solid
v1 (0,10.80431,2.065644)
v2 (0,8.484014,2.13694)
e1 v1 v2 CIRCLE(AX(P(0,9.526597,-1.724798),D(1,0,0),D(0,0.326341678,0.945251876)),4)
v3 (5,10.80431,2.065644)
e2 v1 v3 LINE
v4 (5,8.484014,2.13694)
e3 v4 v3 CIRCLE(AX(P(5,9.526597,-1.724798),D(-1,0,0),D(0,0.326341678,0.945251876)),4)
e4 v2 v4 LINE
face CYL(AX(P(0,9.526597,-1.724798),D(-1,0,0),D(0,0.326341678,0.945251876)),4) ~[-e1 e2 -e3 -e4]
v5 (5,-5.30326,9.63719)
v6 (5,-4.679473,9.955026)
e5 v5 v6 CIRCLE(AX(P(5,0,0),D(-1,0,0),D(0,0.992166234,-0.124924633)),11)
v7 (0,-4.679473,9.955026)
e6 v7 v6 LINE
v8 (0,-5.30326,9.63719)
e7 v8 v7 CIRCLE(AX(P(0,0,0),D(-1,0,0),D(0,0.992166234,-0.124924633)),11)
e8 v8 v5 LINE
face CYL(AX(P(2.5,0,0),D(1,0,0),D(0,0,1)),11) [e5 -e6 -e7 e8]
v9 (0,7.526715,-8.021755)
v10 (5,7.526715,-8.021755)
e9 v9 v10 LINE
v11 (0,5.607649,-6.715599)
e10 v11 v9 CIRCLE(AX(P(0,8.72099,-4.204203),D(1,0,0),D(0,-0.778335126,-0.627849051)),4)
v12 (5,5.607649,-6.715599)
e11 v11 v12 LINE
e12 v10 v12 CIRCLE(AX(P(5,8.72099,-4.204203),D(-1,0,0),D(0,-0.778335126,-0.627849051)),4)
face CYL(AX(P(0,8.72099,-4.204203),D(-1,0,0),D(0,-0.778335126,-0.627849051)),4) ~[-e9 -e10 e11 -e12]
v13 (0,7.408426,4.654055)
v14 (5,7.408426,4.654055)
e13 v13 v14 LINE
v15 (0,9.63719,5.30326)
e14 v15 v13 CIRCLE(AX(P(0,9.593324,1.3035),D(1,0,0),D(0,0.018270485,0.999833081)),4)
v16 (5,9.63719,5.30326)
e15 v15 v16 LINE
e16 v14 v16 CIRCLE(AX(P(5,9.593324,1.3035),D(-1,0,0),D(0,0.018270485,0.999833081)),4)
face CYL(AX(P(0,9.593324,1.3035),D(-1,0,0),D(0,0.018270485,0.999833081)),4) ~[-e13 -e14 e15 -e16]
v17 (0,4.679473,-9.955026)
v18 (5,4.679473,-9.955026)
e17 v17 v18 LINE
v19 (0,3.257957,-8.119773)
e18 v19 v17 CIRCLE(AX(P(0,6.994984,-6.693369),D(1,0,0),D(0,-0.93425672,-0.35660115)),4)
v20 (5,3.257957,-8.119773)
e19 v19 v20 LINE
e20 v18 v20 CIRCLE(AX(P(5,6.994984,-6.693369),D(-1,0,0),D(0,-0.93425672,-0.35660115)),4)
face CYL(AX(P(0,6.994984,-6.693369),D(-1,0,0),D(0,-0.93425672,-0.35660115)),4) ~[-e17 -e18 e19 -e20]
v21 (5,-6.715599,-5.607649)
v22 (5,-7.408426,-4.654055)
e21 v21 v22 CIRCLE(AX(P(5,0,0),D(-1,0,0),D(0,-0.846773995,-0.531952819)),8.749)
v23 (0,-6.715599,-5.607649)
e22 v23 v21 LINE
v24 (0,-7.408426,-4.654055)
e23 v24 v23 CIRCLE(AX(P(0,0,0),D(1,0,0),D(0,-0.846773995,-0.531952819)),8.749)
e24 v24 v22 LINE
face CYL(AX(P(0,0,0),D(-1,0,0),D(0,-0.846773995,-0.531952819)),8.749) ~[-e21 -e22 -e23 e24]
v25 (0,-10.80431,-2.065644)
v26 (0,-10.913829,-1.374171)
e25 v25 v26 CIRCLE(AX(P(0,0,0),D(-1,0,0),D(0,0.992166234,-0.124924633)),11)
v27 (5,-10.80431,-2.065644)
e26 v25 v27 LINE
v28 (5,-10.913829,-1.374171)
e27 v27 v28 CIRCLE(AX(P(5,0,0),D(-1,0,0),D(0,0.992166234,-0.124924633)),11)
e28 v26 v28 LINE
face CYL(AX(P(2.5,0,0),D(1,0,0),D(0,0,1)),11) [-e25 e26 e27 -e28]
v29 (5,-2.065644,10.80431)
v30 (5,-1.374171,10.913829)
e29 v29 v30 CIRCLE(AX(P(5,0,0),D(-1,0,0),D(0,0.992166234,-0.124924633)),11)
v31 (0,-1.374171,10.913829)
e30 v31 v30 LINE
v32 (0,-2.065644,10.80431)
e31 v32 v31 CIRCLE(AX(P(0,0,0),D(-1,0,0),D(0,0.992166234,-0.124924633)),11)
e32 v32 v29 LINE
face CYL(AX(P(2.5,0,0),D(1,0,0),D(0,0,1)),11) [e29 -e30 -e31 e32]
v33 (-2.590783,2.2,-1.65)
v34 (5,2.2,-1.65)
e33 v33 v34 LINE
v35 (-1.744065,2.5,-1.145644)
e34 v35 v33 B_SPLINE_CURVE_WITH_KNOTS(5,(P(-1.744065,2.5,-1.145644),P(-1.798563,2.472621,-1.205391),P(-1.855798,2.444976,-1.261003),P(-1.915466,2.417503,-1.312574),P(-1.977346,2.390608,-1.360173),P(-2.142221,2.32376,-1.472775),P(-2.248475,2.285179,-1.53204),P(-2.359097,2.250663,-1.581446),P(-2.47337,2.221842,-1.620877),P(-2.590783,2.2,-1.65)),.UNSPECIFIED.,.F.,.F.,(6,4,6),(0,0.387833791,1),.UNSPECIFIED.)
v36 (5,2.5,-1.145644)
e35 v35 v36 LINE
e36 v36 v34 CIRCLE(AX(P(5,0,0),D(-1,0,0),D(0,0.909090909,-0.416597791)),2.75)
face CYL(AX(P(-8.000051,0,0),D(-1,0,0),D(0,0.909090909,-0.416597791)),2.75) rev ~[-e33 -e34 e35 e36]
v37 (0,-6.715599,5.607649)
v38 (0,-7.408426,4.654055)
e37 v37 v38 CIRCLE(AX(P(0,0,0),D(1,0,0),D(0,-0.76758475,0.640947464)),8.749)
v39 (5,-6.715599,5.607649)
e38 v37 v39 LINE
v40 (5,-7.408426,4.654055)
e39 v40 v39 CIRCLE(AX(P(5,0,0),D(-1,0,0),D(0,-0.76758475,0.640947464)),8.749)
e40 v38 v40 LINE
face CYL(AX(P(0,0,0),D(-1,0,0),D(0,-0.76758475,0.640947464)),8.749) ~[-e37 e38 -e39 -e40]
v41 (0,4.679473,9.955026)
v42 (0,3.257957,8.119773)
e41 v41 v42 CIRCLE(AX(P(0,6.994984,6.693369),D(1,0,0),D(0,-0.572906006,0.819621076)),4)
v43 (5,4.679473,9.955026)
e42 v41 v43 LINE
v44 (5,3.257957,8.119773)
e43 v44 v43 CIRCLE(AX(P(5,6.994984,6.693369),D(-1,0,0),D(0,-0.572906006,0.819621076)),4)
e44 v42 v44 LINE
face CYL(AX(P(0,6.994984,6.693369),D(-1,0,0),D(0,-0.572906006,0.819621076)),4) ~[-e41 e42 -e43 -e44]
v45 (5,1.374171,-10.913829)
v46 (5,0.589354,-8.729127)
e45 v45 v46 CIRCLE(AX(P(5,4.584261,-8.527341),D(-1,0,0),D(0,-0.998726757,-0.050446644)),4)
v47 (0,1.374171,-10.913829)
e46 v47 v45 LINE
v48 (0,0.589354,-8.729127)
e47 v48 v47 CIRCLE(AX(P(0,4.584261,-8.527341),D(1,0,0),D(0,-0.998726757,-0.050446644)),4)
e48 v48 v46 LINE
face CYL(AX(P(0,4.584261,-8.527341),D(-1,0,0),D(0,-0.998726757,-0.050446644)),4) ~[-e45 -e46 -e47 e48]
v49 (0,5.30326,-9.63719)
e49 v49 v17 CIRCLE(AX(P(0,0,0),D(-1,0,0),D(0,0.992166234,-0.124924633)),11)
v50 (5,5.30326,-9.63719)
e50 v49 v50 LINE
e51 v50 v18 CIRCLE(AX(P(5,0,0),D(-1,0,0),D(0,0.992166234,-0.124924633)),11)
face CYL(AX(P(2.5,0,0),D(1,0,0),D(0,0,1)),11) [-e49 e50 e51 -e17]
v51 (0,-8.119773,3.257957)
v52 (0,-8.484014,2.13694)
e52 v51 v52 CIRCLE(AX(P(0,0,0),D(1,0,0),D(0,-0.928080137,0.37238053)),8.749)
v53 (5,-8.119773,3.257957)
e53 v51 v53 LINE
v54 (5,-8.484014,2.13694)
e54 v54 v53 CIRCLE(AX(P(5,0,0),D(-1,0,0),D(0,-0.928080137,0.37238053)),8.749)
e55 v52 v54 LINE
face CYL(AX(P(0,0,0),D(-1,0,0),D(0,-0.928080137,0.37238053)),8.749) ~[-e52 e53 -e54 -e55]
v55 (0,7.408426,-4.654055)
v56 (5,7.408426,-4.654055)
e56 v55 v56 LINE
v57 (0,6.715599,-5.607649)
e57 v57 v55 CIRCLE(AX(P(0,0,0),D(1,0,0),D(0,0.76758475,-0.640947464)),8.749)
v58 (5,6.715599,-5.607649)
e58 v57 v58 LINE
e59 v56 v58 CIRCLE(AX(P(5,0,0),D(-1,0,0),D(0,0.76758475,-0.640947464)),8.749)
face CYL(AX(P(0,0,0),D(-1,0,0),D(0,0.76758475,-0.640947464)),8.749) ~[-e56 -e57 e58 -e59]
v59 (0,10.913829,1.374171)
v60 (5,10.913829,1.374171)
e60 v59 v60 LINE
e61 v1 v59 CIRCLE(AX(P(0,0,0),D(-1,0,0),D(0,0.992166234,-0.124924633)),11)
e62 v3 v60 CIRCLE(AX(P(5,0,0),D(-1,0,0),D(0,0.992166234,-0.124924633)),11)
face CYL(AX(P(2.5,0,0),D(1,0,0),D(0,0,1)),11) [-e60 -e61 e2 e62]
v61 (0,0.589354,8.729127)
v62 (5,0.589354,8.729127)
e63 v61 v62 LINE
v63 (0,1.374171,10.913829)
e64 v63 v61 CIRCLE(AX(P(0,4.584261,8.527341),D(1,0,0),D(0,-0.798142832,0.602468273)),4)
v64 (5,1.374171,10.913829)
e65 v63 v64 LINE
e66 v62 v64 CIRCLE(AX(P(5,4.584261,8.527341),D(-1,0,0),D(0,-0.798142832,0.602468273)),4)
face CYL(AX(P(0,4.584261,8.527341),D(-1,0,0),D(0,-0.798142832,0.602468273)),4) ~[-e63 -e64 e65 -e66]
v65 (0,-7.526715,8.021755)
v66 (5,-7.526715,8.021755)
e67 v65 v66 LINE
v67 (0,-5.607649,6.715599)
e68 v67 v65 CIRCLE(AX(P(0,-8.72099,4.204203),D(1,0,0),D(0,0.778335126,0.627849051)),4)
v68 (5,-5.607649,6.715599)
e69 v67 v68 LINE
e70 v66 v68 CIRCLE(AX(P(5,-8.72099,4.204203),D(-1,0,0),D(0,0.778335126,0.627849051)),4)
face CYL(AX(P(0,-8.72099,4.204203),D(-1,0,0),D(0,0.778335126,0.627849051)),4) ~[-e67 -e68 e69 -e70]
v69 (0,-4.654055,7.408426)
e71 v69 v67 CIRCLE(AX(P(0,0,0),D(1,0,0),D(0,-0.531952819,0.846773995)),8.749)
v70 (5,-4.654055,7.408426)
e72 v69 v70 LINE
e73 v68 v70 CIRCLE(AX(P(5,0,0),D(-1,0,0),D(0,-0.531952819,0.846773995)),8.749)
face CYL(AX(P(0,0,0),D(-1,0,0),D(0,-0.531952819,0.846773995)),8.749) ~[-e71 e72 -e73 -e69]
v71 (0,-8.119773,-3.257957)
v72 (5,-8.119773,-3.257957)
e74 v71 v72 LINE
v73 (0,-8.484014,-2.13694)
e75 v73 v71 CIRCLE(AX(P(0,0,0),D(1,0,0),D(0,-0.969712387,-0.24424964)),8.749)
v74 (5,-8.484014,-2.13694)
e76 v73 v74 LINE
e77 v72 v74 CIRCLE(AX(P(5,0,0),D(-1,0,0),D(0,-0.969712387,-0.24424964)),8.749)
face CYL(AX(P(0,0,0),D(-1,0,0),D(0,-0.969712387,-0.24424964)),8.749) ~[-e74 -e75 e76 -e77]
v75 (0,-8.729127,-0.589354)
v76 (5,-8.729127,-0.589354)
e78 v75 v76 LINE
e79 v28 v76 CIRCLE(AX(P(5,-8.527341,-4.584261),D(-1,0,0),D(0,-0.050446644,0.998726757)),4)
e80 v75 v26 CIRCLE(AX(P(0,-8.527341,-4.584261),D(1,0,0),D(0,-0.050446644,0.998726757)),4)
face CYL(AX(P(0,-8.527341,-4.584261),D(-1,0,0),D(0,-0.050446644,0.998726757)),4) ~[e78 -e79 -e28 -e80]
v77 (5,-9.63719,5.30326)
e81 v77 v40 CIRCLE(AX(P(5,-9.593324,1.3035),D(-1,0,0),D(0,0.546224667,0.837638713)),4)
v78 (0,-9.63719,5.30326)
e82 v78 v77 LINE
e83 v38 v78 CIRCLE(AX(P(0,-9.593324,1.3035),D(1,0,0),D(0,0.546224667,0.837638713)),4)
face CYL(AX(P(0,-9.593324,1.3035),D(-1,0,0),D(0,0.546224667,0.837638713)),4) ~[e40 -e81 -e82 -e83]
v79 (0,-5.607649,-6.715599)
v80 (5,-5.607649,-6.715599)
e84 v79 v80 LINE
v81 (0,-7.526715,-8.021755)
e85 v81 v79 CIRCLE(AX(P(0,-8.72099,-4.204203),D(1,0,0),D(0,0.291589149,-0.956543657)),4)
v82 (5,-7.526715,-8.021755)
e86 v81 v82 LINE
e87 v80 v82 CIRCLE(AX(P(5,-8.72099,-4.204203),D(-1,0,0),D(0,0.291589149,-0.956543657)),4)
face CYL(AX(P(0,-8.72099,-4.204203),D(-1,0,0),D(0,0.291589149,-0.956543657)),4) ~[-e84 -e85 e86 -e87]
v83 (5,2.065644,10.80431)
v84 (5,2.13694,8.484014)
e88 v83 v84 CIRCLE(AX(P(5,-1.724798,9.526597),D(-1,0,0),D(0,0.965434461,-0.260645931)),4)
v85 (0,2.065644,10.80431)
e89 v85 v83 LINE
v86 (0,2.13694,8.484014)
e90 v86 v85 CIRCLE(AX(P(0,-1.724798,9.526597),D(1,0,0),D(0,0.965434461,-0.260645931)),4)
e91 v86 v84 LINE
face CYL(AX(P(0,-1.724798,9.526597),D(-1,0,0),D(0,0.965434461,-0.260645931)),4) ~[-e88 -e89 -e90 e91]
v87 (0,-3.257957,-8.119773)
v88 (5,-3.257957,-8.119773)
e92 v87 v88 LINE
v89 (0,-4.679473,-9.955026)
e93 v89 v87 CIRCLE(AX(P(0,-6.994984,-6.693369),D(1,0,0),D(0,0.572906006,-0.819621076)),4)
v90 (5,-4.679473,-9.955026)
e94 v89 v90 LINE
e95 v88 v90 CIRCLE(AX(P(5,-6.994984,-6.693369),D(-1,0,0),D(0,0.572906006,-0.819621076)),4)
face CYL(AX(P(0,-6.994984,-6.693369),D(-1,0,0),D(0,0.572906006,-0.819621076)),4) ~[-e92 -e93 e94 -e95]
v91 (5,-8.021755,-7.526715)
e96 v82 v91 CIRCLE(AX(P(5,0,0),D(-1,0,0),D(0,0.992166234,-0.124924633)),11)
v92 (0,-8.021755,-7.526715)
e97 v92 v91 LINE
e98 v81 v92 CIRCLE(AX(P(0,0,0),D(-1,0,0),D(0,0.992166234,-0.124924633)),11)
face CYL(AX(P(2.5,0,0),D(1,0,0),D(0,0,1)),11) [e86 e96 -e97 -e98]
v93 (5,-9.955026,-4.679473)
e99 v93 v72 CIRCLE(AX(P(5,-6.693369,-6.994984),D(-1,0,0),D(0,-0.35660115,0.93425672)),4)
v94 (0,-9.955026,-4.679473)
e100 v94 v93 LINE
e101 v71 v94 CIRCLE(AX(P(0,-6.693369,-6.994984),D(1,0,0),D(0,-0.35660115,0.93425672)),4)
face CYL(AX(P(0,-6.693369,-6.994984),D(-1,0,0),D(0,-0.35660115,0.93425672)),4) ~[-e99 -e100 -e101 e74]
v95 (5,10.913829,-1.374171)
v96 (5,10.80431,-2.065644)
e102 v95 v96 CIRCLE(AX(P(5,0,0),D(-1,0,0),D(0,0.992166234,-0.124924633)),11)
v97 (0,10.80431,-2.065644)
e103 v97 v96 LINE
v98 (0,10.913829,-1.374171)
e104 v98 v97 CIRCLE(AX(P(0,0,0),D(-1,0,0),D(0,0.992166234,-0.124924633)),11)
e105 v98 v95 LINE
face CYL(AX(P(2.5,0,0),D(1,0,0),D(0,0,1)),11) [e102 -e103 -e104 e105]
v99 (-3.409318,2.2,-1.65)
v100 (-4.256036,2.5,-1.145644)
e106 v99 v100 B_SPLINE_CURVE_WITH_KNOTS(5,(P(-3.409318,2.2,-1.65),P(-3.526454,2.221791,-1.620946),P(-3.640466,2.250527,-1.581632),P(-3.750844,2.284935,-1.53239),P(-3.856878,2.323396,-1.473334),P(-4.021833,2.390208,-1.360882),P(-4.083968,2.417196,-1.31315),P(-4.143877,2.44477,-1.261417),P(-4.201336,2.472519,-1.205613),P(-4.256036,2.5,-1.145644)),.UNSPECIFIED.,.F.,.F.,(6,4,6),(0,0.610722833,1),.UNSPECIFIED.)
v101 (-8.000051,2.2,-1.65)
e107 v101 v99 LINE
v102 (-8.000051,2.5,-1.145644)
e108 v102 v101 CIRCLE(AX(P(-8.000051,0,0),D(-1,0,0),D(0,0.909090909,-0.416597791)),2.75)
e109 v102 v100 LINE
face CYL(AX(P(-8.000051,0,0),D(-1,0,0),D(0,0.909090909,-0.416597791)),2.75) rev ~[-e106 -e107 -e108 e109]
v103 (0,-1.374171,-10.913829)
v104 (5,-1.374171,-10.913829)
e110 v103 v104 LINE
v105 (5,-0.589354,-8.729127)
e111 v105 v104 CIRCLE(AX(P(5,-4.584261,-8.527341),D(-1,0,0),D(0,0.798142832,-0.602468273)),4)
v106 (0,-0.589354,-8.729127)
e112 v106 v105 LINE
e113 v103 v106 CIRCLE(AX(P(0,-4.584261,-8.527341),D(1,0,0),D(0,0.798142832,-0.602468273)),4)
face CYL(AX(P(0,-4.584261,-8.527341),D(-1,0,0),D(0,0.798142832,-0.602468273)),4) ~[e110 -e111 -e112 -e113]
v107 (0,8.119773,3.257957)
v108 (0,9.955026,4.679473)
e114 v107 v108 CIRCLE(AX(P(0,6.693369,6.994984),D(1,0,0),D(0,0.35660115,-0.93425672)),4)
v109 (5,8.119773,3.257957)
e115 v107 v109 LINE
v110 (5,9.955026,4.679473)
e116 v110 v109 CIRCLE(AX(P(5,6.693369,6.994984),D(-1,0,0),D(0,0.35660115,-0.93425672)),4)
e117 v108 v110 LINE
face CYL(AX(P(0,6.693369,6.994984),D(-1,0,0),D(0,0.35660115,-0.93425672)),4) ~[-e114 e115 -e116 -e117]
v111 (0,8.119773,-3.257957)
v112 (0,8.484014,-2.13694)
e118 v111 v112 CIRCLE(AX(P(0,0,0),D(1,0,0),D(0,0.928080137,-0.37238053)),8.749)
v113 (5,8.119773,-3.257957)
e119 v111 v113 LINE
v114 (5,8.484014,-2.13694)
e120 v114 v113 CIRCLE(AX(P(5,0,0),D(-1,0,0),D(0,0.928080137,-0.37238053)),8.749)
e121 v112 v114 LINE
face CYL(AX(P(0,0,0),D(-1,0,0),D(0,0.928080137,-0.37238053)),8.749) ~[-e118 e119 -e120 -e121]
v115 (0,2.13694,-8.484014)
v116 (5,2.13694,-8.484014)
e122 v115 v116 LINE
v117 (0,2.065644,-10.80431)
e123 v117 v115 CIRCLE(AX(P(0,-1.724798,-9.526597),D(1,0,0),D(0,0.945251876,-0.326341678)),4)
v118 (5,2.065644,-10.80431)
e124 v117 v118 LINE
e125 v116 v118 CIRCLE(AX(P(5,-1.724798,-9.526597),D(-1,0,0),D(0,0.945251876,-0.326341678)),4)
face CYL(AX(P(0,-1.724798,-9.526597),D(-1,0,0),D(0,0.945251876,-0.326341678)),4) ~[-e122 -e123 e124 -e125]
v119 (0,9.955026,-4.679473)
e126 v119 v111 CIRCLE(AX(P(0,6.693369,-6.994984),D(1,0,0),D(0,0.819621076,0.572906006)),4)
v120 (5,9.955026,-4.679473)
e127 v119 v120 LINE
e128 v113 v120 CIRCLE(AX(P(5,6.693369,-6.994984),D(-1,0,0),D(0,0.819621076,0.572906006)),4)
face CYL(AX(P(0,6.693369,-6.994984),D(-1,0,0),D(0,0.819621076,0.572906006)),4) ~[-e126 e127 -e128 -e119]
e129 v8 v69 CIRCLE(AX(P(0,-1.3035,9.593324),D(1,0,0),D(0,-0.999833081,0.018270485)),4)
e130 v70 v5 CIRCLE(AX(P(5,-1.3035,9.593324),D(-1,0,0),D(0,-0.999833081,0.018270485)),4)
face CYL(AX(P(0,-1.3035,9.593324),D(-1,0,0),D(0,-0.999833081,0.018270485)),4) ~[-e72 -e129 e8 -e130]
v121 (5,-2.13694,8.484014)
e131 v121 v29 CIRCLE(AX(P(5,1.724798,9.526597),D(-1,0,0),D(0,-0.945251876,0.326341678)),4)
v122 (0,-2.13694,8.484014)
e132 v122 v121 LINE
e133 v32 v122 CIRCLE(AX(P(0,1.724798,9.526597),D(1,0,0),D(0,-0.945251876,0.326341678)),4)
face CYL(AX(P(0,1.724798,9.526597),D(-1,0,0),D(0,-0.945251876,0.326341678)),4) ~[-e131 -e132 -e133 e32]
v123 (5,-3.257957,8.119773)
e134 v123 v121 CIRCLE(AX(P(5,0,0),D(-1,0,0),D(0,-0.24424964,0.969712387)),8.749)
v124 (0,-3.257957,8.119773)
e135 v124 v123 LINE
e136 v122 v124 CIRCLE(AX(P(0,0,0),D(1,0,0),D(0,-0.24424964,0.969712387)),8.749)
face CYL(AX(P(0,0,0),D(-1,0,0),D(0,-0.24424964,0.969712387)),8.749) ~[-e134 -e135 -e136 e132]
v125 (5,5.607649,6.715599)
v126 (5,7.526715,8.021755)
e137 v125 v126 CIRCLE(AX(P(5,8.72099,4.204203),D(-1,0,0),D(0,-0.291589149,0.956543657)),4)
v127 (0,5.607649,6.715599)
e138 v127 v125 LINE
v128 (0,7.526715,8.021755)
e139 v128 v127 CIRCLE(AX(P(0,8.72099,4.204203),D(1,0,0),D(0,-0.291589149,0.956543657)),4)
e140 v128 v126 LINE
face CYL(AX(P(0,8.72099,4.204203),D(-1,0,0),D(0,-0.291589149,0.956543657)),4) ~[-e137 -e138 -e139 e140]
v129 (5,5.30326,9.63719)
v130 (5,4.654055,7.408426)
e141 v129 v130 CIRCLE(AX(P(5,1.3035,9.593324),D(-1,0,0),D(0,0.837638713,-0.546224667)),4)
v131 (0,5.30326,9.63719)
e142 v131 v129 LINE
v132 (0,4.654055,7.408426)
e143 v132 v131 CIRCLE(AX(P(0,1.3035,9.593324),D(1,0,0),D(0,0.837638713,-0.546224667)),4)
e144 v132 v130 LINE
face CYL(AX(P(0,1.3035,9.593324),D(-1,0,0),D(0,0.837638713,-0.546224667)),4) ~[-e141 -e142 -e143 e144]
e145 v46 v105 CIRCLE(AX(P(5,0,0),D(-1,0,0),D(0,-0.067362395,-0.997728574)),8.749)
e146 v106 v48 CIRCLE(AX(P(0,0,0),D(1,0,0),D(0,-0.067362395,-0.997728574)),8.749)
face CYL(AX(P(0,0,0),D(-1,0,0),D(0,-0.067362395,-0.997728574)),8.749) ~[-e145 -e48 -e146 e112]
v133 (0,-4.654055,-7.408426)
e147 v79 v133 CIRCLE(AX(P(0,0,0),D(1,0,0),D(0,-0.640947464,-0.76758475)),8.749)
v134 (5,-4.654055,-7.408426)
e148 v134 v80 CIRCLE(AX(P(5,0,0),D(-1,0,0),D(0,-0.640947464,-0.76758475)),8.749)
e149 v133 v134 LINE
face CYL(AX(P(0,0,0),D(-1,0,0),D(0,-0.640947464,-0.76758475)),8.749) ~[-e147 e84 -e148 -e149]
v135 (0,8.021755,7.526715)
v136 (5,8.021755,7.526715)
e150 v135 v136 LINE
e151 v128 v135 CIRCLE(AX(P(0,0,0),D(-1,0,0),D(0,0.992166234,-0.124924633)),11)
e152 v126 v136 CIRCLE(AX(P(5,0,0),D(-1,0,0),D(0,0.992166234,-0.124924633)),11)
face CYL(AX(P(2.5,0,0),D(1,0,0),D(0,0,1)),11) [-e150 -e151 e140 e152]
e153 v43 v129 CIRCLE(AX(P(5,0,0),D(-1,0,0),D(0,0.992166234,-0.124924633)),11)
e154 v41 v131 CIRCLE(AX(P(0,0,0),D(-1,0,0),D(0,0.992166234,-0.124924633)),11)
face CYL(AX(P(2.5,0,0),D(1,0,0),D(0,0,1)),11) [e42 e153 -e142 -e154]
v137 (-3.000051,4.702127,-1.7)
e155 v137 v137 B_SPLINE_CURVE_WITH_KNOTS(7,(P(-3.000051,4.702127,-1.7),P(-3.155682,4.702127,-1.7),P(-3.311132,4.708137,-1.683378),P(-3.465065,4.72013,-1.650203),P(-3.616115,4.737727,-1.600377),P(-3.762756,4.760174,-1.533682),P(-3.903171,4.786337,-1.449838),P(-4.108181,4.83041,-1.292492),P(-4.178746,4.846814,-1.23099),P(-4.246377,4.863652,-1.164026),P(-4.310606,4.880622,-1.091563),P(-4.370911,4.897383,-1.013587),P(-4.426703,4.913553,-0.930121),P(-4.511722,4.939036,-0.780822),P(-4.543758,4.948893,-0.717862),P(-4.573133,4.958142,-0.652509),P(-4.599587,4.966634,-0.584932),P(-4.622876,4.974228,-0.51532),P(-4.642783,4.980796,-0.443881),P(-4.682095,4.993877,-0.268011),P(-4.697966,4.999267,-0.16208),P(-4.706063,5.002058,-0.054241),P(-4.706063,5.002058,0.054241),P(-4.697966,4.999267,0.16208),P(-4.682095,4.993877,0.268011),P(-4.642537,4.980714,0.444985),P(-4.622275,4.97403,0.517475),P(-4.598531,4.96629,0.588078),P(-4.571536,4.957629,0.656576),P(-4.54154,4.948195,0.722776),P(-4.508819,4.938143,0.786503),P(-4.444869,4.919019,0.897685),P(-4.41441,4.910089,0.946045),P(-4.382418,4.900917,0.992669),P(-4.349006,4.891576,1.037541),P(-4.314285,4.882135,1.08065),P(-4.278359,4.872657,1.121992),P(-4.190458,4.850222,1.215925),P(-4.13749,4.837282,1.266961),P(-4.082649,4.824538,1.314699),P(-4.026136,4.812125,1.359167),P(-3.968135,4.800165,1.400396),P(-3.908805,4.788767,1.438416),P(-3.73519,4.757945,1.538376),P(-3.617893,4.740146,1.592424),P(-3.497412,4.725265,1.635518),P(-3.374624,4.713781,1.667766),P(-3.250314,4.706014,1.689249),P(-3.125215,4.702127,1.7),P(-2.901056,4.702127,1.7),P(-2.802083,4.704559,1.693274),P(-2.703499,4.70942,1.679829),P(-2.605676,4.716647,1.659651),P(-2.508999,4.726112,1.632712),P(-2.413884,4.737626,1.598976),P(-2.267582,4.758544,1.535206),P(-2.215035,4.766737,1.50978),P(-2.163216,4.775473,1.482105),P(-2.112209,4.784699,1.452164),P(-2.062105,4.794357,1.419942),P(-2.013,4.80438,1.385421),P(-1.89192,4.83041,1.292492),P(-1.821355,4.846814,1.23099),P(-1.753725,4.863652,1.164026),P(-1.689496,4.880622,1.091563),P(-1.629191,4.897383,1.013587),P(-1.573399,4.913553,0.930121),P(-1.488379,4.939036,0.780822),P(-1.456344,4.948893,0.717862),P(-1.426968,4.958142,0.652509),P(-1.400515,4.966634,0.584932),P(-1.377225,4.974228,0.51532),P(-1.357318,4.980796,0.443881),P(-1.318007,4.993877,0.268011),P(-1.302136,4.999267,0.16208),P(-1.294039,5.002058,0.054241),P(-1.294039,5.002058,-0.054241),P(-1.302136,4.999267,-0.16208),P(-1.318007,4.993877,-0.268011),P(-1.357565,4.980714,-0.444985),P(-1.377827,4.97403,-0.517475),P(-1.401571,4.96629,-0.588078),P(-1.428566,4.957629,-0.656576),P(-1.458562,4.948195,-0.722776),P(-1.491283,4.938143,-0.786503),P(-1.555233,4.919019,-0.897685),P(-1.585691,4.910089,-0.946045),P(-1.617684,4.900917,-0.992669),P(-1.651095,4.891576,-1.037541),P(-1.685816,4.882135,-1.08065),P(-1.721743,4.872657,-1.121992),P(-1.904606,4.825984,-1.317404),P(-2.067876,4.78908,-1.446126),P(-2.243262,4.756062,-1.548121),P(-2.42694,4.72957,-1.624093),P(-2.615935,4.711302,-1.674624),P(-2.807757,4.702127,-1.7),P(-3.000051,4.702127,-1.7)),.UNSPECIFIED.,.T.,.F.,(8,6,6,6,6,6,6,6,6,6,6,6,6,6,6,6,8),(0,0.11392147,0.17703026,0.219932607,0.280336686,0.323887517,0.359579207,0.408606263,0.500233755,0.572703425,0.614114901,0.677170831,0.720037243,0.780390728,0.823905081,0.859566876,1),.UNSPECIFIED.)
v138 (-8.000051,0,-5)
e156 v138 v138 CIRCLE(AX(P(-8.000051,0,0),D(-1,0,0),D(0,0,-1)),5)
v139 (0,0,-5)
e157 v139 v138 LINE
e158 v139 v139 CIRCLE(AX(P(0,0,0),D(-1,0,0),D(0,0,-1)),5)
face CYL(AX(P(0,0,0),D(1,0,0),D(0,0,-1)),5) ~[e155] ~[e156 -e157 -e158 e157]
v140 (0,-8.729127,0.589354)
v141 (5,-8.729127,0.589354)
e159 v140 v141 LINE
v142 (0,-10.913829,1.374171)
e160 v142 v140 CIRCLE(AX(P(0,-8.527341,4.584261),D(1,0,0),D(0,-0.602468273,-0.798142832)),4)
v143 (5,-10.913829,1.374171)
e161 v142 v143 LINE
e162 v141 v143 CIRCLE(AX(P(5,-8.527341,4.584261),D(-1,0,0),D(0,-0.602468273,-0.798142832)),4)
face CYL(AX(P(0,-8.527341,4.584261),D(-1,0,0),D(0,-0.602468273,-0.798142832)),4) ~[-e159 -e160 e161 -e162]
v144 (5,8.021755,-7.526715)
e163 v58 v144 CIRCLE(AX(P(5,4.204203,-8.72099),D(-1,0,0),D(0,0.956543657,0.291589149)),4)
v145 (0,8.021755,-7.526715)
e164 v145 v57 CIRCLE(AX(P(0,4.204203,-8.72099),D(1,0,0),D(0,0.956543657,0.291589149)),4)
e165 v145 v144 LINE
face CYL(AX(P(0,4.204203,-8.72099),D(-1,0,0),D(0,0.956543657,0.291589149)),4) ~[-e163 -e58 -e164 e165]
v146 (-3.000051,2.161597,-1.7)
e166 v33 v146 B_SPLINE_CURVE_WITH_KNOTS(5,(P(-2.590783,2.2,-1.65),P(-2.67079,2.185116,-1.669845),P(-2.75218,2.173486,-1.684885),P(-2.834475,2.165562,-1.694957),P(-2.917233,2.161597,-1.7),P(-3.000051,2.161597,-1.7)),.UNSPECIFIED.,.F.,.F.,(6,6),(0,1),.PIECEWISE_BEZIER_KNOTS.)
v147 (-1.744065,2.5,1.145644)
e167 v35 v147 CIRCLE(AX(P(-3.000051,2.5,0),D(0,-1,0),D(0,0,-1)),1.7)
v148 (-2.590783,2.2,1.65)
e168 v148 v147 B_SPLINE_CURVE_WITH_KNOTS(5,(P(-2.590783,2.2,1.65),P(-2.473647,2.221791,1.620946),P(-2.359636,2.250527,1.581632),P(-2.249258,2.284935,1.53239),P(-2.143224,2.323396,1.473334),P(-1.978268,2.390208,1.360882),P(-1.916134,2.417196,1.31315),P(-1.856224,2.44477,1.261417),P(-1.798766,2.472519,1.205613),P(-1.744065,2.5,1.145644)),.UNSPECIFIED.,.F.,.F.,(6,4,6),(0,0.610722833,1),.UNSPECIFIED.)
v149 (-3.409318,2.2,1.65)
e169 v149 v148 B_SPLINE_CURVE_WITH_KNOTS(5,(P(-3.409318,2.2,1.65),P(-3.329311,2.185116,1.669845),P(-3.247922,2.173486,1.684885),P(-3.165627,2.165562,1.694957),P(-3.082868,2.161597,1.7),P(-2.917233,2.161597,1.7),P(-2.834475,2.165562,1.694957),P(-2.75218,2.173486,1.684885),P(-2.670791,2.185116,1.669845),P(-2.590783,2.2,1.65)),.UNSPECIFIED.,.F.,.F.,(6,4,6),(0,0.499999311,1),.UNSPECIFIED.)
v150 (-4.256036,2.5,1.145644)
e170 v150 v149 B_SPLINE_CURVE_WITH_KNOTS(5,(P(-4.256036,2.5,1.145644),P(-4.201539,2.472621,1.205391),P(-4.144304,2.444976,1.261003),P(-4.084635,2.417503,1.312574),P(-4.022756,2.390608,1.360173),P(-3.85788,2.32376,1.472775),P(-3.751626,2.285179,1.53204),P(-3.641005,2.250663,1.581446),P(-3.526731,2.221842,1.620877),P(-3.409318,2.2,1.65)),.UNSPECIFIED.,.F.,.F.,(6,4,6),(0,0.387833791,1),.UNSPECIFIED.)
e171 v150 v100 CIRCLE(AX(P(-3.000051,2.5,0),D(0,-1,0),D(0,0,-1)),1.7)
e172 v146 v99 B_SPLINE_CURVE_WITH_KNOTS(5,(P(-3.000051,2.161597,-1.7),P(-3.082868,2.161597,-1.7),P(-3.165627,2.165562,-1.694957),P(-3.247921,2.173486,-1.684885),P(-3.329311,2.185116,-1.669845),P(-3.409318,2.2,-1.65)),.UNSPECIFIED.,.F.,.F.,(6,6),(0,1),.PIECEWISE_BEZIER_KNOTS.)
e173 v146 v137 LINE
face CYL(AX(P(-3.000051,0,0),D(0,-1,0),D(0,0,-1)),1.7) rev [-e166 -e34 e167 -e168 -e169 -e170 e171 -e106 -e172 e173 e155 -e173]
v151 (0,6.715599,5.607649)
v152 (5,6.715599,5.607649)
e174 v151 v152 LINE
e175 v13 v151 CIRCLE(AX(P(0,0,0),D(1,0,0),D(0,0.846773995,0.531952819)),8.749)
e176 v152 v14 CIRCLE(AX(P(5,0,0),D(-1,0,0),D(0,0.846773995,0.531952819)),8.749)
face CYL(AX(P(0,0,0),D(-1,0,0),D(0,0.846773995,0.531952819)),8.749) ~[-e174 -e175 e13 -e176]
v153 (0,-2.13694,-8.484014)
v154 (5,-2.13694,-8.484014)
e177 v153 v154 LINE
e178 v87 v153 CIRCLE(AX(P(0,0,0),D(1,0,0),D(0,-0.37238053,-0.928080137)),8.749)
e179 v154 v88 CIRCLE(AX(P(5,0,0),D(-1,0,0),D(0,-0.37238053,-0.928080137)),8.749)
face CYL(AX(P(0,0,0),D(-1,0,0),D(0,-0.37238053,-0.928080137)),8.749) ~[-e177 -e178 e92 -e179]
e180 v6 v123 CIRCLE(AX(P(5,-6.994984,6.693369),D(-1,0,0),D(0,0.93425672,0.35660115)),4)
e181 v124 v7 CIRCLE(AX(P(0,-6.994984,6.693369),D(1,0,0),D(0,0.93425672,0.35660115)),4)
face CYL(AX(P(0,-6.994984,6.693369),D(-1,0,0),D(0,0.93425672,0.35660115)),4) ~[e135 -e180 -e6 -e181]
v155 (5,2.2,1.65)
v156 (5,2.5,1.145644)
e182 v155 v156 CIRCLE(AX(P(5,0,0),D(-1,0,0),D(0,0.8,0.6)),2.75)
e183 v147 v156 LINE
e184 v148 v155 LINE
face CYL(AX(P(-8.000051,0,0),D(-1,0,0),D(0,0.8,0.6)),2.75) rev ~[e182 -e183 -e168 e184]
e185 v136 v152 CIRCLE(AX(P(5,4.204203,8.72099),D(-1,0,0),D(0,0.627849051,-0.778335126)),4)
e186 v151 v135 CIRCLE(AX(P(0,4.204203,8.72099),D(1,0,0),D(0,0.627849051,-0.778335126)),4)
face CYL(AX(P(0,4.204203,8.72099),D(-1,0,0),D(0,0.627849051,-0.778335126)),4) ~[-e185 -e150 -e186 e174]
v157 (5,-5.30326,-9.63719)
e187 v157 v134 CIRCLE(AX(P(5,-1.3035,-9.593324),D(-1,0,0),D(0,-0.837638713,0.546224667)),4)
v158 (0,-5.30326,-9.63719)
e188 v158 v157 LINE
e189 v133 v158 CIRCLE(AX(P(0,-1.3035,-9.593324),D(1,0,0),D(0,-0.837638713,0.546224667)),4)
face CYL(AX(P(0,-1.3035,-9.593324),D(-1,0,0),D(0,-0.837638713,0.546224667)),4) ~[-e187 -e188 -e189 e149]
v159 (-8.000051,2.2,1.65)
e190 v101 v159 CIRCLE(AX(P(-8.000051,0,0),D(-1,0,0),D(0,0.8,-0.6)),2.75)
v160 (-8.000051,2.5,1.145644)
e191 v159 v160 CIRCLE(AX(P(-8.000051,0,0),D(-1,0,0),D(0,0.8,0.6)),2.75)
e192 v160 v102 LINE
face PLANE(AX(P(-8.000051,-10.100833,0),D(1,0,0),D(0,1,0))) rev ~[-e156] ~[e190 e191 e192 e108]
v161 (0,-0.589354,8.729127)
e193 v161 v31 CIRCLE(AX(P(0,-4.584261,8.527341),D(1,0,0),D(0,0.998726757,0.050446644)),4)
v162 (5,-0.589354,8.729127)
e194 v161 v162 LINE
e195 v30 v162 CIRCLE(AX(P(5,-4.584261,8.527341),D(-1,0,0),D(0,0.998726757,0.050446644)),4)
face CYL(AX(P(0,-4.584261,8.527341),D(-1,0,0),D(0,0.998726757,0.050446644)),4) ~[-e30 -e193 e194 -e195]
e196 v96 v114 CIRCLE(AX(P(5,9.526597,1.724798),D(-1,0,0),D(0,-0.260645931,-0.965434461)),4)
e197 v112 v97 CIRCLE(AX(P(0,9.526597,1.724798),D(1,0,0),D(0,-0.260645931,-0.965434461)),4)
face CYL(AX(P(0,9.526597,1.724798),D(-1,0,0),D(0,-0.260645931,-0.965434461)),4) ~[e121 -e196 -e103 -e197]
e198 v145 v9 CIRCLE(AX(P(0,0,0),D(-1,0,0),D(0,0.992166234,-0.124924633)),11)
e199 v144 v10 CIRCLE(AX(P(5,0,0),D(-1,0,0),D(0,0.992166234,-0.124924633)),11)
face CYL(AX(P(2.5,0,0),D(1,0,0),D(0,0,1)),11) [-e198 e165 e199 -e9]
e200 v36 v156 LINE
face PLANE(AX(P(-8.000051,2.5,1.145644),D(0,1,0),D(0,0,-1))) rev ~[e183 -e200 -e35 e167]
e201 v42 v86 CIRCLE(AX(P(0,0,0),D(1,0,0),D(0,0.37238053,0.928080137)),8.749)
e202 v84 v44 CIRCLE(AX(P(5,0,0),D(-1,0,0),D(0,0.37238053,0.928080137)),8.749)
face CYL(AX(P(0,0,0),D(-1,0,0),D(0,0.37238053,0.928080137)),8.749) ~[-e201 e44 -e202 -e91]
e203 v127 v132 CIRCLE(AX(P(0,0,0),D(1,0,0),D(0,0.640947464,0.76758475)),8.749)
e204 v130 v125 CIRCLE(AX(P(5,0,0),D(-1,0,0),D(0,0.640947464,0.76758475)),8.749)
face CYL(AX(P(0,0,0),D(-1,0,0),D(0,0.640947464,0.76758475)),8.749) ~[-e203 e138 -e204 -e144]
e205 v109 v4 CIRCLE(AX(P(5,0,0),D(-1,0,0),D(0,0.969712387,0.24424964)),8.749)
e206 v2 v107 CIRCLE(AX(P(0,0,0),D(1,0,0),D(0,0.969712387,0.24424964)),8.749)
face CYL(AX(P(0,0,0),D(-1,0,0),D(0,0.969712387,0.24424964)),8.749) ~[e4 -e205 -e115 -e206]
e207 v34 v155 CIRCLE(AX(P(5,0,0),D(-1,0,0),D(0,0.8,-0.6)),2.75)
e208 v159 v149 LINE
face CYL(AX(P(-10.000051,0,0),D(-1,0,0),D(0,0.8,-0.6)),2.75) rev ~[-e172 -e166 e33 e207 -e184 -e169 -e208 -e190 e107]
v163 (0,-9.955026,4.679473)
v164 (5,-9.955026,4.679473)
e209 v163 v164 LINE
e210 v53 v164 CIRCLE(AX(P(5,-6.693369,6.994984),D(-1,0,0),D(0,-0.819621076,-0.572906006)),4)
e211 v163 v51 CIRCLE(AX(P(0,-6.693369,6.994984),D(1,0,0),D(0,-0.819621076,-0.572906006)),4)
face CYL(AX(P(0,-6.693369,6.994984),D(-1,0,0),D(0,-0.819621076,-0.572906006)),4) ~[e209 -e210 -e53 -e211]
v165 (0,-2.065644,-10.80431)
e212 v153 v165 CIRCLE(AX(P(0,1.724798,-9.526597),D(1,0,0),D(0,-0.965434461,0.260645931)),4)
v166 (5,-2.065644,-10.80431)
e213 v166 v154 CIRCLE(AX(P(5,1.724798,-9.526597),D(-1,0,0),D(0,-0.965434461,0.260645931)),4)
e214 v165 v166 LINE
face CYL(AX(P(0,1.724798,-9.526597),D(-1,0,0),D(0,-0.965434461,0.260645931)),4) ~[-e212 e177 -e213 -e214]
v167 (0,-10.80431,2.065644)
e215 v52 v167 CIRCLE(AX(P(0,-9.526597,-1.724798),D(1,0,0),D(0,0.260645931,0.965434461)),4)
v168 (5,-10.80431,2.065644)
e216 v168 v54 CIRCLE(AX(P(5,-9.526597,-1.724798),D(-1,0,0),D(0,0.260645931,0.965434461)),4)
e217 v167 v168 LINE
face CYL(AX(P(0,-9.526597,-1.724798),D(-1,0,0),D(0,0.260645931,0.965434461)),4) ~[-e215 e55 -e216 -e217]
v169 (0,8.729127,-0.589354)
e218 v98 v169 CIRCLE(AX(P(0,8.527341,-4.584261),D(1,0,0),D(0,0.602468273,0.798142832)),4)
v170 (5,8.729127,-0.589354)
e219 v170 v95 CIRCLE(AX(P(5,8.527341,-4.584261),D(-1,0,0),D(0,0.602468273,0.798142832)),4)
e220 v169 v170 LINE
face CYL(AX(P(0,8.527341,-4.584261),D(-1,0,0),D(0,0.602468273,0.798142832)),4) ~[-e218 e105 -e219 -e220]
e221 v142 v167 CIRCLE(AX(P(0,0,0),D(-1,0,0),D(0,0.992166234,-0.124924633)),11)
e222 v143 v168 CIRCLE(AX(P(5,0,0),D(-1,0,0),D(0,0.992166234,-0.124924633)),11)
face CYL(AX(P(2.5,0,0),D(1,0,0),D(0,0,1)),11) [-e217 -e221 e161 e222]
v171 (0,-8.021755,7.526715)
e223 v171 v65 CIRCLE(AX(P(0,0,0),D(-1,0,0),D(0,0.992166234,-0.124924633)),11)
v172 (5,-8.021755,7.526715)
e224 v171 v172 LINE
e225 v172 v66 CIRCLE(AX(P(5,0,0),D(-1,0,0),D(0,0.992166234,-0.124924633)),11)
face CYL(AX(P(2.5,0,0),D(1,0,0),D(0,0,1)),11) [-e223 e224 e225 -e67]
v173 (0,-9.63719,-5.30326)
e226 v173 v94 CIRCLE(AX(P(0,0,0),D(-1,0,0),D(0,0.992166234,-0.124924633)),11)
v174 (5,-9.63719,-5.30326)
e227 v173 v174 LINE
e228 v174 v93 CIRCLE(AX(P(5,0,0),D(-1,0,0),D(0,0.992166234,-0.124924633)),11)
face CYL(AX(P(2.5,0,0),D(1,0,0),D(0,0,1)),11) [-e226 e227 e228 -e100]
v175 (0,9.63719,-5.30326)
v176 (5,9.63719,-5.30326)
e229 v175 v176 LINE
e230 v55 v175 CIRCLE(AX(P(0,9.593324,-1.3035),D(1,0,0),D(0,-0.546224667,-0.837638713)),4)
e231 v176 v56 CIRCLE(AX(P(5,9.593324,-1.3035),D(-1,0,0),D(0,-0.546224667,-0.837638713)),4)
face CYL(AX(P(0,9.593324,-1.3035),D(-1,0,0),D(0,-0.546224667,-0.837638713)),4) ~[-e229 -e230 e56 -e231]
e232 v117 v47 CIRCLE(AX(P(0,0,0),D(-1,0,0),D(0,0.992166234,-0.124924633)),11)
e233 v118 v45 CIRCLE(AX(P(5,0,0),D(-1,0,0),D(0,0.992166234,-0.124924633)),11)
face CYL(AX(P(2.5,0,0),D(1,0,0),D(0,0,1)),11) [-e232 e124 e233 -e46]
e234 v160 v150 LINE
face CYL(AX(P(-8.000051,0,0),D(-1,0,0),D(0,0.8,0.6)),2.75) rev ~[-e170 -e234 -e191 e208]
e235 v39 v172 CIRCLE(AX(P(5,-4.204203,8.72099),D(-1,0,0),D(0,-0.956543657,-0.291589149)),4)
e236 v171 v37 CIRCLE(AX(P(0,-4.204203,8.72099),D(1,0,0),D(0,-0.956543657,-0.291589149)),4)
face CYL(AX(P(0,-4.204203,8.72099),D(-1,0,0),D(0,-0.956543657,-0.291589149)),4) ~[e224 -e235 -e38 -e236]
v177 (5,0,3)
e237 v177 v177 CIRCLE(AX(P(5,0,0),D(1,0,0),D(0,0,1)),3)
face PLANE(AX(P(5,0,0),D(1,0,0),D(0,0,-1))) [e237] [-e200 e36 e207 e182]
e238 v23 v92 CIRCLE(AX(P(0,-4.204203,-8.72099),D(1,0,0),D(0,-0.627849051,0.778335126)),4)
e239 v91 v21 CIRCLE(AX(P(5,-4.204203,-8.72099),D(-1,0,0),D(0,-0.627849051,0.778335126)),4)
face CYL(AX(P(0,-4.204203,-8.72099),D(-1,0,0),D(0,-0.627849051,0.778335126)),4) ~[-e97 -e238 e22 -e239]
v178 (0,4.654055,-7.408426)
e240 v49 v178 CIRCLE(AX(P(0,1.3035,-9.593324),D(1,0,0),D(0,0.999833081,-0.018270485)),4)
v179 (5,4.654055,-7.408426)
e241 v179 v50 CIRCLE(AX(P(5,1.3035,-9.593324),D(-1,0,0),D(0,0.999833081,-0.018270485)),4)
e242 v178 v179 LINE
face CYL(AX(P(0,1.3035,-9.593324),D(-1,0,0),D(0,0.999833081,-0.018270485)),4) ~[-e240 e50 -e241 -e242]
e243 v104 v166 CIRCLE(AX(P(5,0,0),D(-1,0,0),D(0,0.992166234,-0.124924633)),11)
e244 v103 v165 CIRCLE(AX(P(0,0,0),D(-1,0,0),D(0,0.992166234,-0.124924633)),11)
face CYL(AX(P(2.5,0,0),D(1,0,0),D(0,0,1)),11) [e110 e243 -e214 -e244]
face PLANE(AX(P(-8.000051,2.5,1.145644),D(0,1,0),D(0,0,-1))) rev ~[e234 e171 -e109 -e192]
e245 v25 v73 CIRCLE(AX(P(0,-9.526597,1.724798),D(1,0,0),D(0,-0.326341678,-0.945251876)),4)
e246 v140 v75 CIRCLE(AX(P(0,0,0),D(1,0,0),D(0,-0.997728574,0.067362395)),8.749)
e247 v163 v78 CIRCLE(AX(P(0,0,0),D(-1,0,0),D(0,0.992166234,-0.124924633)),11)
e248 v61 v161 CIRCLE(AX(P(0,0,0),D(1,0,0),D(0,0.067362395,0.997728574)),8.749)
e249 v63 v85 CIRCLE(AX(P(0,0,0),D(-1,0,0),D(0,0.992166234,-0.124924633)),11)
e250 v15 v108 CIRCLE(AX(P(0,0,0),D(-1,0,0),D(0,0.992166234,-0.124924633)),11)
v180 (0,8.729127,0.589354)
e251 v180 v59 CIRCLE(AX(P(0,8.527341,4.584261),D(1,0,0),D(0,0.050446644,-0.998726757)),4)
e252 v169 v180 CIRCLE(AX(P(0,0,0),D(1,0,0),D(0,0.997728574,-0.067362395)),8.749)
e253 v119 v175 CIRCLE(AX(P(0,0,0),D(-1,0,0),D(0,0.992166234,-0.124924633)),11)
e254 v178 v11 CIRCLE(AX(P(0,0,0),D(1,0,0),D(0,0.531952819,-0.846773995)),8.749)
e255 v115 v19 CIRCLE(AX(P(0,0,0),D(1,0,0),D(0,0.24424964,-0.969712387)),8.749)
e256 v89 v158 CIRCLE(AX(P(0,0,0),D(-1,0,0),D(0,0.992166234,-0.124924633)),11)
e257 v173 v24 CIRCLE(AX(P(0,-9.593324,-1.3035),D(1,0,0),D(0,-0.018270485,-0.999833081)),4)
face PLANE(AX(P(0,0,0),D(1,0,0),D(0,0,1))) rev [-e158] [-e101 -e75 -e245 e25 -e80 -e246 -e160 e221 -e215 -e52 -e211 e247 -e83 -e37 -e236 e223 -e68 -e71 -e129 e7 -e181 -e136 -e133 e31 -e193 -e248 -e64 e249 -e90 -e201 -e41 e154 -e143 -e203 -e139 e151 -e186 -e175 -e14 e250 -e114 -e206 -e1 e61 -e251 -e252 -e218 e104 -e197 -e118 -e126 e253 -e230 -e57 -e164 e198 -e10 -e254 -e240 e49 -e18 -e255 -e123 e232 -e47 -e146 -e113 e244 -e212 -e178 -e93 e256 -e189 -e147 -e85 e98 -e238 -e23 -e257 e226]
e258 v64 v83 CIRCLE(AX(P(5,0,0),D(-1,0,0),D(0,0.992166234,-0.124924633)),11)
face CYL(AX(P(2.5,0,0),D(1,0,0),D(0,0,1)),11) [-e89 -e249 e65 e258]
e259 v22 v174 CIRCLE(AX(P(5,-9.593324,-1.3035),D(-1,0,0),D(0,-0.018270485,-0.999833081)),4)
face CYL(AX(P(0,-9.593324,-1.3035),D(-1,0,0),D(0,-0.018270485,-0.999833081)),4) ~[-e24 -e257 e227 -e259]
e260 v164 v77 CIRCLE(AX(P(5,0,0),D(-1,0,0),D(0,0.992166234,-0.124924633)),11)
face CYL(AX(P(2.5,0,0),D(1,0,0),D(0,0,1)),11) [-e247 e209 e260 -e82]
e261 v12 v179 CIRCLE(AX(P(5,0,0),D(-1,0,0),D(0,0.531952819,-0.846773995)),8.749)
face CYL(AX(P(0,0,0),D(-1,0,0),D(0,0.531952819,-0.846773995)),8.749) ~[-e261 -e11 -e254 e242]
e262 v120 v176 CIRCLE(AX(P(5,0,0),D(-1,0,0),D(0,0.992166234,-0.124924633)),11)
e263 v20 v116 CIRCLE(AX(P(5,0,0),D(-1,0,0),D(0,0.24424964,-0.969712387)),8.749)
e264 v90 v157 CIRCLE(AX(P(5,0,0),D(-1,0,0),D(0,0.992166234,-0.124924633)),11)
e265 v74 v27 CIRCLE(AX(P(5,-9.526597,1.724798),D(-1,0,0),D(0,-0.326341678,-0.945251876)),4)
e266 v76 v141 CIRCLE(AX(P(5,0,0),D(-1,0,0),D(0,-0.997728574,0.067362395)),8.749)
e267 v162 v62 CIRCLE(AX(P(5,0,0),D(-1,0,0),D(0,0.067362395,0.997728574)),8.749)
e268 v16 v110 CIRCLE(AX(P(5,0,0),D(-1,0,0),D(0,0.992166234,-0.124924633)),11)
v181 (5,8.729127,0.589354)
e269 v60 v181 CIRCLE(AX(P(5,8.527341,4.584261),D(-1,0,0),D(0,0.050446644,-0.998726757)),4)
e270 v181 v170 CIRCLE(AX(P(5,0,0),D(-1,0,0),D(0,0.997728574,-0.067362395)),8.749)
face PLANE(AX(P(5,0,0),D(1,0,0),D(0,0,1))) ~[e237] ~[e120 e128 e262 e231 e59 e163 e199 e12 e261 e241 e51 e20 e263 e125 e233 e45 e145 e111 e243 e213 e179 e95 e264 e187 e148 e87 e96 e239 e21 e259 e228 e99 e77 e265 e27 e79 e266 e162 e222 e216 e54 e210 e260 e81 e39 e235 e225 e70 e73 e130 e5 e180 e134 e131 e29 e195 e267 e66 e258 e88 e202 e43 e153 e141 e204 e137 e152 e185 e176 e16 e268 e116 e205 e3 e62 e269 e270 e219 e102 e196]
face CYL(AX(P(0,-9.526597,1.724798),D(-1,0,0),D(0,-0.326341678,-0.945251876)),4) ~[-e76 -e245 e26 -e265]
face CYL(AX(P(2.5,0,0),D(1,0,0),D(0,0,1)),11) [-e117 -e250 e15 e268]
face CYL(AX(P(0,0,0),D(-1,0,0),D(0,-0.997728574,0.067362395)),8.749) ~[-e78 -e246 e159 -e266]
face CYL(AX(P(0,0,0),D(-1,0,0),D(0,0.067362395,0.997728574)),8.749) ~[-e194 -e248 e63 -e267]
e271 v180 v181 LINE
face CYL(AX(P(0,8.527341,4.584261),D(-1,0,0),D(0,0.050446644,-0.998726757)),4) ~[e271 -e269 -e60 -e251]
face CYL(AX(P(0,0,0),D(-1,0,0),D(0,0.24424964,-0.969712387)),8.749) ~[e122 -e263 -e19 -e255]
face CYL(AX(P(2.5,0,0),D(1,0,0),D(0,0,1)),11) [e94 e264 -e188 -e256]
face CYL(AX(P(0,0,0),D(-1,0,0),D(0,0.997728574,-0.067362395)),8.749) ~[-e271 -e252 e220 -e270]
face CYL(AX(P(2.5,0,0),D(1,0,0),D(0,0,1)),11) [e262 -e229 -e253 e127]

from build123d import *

# Parameters (mm, degrees)
BASPROSKE_W             = 5
BASPROSKE_H             = 11
TOOTHCUT_DEPTH          = 17.340134638
TEETHCUTS_COUNT         = 20
TEETHCUTS_ANGLE         = 342
HUBNEAONESKE_R          = 5
HUBNEARONE_DEPTH        = 10.0000508
BORSKE_R                = 3
BORE_DEPTH              = 15.0000508
BOSS_EXTRUDE1_START     = -10.000051
SKETCH2_R               = 3
BOSS_EXTRUDE1_DEPTH     = 15.0000508
SKETCH3_R               = 1.7
CUT_EXTRUDE1_DEPTH      = 10
SKETCH4_W               = 2
SKETCH4_H               = 20.201666504
CUT_EXTRUDE2_DEPTH      = 19.39087628
CUT_EXTRUDE2_DEPTH_BACK = 19.39087628
CUT_EXTRUDE3_DEPTH      = 31


with BuildPart() as part:
    # BasProSke → Base-Revolve (revolve)
    with BuildSketch(Plane(origin=(0, 0, 0), x_dir=(1, 0, 0), z_dir=(0, 1, 0)), mode=Mode.PRIVATE) as base_revolve_sk:
        with Locations((2.5, 5.5)):
            Rectangle(BASPROSKE_W, BASPROSKE_H)
    revolve(base_revolve_sk.sketch.rotate(Axis((-10, 0, 0), (1, 0, 0)), 180), axis=Axis((-10, 0, 0), (1, 0, 0)))

    # TooCutSke → ToothCut (cut, through all)
    with BuildSketch(Plane(origin=(0, 0, 0), x_dir=(0, 0, -1), z_dir=(1, 0, 0))):
        with BuildLine():
            ThreePointArc((0.589353609, 8.729127295), (0, 8.749), (-0.589353609, 8.729127295))
            ThreePointArc((-0.589353609, 8.729127295), (-0.82475631, 9.893403384), (-1.391689312, 10.937213814))
            ThreePointArc((-1.391689312, 10.937213814), (0, 11.0254), (1.391689312, 10.937213814))
            ThreePointArc((1.391689312, 10.937213814), (0.82475631, 9.893403384), (0.589353609, 8.729127295))
        make_face()
    toothcut = extrude(amount=TOOTHCUT_DEPTH, mode=Mode.SUBTRACT)

    # TeethCuts: ToothCut ×20 about axis
    teethcuts_axis = Axis((-10, 0, 0), (1, 0, 0))
    for i in range(1, TEETHCUTS_COUNT):
        add(toothcut.rotate(teethcuts_axis, i * TEETHCUTS_ANGLE / (TEETHCUTS_COUNT - 1)), mode=Mode.SUBTRACT)

    # HubNeaOneSke → HubNearOne (add)
    with BuildSketch(Plane.ZY):
        with Locations(Location((0, 0, 0), (0, 0, 180))):
            Circle(HUBNEAONESKE_R)
    extrude(amount=HUBNEARONE_DEPTH)

    # BorSke → Bore (cut, symmetric)
    with BuildSketch(Plane(origin=(0, 0, 0), x_dir=(0, 0, -1), z_dir=(1, 0, 0))):
        with Locations(Location((0, 0, 0), (0, 0, 180))):
            Circle(BORSKE_R)
    extrude(amount=BORE_DEPTH, both=True, mode=Mode.SUBTRACT)

    # Sketch2 → Boss-Extrude1 (add)
    with BuildSketch(Plane(origin=(0, 0, 0), x_dir=(0, 0, -1), z_dir=(1, 0, 0)).offset(BOSS_EXTRUDE1_START)):
        Circle(SKETCH2_R)
        with BuildLine():
            Line((-1.65, 2.2), (1.65, 2.2))
            ThreePointArc((1.65, 2.2), (0, -2.75), (-1.65, 2.2))
        make_face(mode=Mode.SUBTRACT)
    extrude(amount=BOSS_EXTRUDE1_DEPTH)

    # Sketch3 → Cut-Extrude1 (cut)
    with BuildSketch(Plane(origin=(0, 0, 0), x_dir=(1, 0, 0), z_dir=(0, 1, 0))):
        with Locations(Location((-3.0000508, 0, 0), (0, 0, 90))):
            Circle(SKETCH3_R)
    extrude(amount=CUT_EXTRUDE1_DEPTH, mode=Mode.SUBTRACT)

    # Sketch4 → Cut-Extrude2 (cut, two sides)
    with BuildSketch(Plane.XY) as cut_extrude2_sk:
        with Locations((-9.0000508, 0)):
            Rectangle(SKETCH4_W, SKETCH4_H)
    extrude(amount=CUT_EXTRUDE2_DEPTH, mode=Mode.SUBTRACT)
    extrude(cut_extrude2_sk.sketch, amount=-CUT_EXTRUDE2_DEPTH_BACK, mode=Mode.SUBTRACT)

    # Sketch5 → Cut-Extrude3 (cut)
    with BuildSketch(Plane.ZY.offset(8.0000508)):
        with BuildLine():
            Line((1.145643924, 2.5), (0, 2.5))
            Line((0, 2.5), (-1.145643924, 2.5))
            ThreePointArc((-1.145643924, 2.5), (-1.40584716, 2.363491858), (-1.65, 2.2))
            Line((-1.65, 2.2), (1.65, 2.2))
            ThreePointArc((1.65, 2.2), (1.40584716, 2.363491858), (1.145643924, 2.5))
        make_face()
    extrude(amount=-CUT_EXTRUDE3_DEPTH, mode=Mode.SUBTRACT)


solid = part.part
